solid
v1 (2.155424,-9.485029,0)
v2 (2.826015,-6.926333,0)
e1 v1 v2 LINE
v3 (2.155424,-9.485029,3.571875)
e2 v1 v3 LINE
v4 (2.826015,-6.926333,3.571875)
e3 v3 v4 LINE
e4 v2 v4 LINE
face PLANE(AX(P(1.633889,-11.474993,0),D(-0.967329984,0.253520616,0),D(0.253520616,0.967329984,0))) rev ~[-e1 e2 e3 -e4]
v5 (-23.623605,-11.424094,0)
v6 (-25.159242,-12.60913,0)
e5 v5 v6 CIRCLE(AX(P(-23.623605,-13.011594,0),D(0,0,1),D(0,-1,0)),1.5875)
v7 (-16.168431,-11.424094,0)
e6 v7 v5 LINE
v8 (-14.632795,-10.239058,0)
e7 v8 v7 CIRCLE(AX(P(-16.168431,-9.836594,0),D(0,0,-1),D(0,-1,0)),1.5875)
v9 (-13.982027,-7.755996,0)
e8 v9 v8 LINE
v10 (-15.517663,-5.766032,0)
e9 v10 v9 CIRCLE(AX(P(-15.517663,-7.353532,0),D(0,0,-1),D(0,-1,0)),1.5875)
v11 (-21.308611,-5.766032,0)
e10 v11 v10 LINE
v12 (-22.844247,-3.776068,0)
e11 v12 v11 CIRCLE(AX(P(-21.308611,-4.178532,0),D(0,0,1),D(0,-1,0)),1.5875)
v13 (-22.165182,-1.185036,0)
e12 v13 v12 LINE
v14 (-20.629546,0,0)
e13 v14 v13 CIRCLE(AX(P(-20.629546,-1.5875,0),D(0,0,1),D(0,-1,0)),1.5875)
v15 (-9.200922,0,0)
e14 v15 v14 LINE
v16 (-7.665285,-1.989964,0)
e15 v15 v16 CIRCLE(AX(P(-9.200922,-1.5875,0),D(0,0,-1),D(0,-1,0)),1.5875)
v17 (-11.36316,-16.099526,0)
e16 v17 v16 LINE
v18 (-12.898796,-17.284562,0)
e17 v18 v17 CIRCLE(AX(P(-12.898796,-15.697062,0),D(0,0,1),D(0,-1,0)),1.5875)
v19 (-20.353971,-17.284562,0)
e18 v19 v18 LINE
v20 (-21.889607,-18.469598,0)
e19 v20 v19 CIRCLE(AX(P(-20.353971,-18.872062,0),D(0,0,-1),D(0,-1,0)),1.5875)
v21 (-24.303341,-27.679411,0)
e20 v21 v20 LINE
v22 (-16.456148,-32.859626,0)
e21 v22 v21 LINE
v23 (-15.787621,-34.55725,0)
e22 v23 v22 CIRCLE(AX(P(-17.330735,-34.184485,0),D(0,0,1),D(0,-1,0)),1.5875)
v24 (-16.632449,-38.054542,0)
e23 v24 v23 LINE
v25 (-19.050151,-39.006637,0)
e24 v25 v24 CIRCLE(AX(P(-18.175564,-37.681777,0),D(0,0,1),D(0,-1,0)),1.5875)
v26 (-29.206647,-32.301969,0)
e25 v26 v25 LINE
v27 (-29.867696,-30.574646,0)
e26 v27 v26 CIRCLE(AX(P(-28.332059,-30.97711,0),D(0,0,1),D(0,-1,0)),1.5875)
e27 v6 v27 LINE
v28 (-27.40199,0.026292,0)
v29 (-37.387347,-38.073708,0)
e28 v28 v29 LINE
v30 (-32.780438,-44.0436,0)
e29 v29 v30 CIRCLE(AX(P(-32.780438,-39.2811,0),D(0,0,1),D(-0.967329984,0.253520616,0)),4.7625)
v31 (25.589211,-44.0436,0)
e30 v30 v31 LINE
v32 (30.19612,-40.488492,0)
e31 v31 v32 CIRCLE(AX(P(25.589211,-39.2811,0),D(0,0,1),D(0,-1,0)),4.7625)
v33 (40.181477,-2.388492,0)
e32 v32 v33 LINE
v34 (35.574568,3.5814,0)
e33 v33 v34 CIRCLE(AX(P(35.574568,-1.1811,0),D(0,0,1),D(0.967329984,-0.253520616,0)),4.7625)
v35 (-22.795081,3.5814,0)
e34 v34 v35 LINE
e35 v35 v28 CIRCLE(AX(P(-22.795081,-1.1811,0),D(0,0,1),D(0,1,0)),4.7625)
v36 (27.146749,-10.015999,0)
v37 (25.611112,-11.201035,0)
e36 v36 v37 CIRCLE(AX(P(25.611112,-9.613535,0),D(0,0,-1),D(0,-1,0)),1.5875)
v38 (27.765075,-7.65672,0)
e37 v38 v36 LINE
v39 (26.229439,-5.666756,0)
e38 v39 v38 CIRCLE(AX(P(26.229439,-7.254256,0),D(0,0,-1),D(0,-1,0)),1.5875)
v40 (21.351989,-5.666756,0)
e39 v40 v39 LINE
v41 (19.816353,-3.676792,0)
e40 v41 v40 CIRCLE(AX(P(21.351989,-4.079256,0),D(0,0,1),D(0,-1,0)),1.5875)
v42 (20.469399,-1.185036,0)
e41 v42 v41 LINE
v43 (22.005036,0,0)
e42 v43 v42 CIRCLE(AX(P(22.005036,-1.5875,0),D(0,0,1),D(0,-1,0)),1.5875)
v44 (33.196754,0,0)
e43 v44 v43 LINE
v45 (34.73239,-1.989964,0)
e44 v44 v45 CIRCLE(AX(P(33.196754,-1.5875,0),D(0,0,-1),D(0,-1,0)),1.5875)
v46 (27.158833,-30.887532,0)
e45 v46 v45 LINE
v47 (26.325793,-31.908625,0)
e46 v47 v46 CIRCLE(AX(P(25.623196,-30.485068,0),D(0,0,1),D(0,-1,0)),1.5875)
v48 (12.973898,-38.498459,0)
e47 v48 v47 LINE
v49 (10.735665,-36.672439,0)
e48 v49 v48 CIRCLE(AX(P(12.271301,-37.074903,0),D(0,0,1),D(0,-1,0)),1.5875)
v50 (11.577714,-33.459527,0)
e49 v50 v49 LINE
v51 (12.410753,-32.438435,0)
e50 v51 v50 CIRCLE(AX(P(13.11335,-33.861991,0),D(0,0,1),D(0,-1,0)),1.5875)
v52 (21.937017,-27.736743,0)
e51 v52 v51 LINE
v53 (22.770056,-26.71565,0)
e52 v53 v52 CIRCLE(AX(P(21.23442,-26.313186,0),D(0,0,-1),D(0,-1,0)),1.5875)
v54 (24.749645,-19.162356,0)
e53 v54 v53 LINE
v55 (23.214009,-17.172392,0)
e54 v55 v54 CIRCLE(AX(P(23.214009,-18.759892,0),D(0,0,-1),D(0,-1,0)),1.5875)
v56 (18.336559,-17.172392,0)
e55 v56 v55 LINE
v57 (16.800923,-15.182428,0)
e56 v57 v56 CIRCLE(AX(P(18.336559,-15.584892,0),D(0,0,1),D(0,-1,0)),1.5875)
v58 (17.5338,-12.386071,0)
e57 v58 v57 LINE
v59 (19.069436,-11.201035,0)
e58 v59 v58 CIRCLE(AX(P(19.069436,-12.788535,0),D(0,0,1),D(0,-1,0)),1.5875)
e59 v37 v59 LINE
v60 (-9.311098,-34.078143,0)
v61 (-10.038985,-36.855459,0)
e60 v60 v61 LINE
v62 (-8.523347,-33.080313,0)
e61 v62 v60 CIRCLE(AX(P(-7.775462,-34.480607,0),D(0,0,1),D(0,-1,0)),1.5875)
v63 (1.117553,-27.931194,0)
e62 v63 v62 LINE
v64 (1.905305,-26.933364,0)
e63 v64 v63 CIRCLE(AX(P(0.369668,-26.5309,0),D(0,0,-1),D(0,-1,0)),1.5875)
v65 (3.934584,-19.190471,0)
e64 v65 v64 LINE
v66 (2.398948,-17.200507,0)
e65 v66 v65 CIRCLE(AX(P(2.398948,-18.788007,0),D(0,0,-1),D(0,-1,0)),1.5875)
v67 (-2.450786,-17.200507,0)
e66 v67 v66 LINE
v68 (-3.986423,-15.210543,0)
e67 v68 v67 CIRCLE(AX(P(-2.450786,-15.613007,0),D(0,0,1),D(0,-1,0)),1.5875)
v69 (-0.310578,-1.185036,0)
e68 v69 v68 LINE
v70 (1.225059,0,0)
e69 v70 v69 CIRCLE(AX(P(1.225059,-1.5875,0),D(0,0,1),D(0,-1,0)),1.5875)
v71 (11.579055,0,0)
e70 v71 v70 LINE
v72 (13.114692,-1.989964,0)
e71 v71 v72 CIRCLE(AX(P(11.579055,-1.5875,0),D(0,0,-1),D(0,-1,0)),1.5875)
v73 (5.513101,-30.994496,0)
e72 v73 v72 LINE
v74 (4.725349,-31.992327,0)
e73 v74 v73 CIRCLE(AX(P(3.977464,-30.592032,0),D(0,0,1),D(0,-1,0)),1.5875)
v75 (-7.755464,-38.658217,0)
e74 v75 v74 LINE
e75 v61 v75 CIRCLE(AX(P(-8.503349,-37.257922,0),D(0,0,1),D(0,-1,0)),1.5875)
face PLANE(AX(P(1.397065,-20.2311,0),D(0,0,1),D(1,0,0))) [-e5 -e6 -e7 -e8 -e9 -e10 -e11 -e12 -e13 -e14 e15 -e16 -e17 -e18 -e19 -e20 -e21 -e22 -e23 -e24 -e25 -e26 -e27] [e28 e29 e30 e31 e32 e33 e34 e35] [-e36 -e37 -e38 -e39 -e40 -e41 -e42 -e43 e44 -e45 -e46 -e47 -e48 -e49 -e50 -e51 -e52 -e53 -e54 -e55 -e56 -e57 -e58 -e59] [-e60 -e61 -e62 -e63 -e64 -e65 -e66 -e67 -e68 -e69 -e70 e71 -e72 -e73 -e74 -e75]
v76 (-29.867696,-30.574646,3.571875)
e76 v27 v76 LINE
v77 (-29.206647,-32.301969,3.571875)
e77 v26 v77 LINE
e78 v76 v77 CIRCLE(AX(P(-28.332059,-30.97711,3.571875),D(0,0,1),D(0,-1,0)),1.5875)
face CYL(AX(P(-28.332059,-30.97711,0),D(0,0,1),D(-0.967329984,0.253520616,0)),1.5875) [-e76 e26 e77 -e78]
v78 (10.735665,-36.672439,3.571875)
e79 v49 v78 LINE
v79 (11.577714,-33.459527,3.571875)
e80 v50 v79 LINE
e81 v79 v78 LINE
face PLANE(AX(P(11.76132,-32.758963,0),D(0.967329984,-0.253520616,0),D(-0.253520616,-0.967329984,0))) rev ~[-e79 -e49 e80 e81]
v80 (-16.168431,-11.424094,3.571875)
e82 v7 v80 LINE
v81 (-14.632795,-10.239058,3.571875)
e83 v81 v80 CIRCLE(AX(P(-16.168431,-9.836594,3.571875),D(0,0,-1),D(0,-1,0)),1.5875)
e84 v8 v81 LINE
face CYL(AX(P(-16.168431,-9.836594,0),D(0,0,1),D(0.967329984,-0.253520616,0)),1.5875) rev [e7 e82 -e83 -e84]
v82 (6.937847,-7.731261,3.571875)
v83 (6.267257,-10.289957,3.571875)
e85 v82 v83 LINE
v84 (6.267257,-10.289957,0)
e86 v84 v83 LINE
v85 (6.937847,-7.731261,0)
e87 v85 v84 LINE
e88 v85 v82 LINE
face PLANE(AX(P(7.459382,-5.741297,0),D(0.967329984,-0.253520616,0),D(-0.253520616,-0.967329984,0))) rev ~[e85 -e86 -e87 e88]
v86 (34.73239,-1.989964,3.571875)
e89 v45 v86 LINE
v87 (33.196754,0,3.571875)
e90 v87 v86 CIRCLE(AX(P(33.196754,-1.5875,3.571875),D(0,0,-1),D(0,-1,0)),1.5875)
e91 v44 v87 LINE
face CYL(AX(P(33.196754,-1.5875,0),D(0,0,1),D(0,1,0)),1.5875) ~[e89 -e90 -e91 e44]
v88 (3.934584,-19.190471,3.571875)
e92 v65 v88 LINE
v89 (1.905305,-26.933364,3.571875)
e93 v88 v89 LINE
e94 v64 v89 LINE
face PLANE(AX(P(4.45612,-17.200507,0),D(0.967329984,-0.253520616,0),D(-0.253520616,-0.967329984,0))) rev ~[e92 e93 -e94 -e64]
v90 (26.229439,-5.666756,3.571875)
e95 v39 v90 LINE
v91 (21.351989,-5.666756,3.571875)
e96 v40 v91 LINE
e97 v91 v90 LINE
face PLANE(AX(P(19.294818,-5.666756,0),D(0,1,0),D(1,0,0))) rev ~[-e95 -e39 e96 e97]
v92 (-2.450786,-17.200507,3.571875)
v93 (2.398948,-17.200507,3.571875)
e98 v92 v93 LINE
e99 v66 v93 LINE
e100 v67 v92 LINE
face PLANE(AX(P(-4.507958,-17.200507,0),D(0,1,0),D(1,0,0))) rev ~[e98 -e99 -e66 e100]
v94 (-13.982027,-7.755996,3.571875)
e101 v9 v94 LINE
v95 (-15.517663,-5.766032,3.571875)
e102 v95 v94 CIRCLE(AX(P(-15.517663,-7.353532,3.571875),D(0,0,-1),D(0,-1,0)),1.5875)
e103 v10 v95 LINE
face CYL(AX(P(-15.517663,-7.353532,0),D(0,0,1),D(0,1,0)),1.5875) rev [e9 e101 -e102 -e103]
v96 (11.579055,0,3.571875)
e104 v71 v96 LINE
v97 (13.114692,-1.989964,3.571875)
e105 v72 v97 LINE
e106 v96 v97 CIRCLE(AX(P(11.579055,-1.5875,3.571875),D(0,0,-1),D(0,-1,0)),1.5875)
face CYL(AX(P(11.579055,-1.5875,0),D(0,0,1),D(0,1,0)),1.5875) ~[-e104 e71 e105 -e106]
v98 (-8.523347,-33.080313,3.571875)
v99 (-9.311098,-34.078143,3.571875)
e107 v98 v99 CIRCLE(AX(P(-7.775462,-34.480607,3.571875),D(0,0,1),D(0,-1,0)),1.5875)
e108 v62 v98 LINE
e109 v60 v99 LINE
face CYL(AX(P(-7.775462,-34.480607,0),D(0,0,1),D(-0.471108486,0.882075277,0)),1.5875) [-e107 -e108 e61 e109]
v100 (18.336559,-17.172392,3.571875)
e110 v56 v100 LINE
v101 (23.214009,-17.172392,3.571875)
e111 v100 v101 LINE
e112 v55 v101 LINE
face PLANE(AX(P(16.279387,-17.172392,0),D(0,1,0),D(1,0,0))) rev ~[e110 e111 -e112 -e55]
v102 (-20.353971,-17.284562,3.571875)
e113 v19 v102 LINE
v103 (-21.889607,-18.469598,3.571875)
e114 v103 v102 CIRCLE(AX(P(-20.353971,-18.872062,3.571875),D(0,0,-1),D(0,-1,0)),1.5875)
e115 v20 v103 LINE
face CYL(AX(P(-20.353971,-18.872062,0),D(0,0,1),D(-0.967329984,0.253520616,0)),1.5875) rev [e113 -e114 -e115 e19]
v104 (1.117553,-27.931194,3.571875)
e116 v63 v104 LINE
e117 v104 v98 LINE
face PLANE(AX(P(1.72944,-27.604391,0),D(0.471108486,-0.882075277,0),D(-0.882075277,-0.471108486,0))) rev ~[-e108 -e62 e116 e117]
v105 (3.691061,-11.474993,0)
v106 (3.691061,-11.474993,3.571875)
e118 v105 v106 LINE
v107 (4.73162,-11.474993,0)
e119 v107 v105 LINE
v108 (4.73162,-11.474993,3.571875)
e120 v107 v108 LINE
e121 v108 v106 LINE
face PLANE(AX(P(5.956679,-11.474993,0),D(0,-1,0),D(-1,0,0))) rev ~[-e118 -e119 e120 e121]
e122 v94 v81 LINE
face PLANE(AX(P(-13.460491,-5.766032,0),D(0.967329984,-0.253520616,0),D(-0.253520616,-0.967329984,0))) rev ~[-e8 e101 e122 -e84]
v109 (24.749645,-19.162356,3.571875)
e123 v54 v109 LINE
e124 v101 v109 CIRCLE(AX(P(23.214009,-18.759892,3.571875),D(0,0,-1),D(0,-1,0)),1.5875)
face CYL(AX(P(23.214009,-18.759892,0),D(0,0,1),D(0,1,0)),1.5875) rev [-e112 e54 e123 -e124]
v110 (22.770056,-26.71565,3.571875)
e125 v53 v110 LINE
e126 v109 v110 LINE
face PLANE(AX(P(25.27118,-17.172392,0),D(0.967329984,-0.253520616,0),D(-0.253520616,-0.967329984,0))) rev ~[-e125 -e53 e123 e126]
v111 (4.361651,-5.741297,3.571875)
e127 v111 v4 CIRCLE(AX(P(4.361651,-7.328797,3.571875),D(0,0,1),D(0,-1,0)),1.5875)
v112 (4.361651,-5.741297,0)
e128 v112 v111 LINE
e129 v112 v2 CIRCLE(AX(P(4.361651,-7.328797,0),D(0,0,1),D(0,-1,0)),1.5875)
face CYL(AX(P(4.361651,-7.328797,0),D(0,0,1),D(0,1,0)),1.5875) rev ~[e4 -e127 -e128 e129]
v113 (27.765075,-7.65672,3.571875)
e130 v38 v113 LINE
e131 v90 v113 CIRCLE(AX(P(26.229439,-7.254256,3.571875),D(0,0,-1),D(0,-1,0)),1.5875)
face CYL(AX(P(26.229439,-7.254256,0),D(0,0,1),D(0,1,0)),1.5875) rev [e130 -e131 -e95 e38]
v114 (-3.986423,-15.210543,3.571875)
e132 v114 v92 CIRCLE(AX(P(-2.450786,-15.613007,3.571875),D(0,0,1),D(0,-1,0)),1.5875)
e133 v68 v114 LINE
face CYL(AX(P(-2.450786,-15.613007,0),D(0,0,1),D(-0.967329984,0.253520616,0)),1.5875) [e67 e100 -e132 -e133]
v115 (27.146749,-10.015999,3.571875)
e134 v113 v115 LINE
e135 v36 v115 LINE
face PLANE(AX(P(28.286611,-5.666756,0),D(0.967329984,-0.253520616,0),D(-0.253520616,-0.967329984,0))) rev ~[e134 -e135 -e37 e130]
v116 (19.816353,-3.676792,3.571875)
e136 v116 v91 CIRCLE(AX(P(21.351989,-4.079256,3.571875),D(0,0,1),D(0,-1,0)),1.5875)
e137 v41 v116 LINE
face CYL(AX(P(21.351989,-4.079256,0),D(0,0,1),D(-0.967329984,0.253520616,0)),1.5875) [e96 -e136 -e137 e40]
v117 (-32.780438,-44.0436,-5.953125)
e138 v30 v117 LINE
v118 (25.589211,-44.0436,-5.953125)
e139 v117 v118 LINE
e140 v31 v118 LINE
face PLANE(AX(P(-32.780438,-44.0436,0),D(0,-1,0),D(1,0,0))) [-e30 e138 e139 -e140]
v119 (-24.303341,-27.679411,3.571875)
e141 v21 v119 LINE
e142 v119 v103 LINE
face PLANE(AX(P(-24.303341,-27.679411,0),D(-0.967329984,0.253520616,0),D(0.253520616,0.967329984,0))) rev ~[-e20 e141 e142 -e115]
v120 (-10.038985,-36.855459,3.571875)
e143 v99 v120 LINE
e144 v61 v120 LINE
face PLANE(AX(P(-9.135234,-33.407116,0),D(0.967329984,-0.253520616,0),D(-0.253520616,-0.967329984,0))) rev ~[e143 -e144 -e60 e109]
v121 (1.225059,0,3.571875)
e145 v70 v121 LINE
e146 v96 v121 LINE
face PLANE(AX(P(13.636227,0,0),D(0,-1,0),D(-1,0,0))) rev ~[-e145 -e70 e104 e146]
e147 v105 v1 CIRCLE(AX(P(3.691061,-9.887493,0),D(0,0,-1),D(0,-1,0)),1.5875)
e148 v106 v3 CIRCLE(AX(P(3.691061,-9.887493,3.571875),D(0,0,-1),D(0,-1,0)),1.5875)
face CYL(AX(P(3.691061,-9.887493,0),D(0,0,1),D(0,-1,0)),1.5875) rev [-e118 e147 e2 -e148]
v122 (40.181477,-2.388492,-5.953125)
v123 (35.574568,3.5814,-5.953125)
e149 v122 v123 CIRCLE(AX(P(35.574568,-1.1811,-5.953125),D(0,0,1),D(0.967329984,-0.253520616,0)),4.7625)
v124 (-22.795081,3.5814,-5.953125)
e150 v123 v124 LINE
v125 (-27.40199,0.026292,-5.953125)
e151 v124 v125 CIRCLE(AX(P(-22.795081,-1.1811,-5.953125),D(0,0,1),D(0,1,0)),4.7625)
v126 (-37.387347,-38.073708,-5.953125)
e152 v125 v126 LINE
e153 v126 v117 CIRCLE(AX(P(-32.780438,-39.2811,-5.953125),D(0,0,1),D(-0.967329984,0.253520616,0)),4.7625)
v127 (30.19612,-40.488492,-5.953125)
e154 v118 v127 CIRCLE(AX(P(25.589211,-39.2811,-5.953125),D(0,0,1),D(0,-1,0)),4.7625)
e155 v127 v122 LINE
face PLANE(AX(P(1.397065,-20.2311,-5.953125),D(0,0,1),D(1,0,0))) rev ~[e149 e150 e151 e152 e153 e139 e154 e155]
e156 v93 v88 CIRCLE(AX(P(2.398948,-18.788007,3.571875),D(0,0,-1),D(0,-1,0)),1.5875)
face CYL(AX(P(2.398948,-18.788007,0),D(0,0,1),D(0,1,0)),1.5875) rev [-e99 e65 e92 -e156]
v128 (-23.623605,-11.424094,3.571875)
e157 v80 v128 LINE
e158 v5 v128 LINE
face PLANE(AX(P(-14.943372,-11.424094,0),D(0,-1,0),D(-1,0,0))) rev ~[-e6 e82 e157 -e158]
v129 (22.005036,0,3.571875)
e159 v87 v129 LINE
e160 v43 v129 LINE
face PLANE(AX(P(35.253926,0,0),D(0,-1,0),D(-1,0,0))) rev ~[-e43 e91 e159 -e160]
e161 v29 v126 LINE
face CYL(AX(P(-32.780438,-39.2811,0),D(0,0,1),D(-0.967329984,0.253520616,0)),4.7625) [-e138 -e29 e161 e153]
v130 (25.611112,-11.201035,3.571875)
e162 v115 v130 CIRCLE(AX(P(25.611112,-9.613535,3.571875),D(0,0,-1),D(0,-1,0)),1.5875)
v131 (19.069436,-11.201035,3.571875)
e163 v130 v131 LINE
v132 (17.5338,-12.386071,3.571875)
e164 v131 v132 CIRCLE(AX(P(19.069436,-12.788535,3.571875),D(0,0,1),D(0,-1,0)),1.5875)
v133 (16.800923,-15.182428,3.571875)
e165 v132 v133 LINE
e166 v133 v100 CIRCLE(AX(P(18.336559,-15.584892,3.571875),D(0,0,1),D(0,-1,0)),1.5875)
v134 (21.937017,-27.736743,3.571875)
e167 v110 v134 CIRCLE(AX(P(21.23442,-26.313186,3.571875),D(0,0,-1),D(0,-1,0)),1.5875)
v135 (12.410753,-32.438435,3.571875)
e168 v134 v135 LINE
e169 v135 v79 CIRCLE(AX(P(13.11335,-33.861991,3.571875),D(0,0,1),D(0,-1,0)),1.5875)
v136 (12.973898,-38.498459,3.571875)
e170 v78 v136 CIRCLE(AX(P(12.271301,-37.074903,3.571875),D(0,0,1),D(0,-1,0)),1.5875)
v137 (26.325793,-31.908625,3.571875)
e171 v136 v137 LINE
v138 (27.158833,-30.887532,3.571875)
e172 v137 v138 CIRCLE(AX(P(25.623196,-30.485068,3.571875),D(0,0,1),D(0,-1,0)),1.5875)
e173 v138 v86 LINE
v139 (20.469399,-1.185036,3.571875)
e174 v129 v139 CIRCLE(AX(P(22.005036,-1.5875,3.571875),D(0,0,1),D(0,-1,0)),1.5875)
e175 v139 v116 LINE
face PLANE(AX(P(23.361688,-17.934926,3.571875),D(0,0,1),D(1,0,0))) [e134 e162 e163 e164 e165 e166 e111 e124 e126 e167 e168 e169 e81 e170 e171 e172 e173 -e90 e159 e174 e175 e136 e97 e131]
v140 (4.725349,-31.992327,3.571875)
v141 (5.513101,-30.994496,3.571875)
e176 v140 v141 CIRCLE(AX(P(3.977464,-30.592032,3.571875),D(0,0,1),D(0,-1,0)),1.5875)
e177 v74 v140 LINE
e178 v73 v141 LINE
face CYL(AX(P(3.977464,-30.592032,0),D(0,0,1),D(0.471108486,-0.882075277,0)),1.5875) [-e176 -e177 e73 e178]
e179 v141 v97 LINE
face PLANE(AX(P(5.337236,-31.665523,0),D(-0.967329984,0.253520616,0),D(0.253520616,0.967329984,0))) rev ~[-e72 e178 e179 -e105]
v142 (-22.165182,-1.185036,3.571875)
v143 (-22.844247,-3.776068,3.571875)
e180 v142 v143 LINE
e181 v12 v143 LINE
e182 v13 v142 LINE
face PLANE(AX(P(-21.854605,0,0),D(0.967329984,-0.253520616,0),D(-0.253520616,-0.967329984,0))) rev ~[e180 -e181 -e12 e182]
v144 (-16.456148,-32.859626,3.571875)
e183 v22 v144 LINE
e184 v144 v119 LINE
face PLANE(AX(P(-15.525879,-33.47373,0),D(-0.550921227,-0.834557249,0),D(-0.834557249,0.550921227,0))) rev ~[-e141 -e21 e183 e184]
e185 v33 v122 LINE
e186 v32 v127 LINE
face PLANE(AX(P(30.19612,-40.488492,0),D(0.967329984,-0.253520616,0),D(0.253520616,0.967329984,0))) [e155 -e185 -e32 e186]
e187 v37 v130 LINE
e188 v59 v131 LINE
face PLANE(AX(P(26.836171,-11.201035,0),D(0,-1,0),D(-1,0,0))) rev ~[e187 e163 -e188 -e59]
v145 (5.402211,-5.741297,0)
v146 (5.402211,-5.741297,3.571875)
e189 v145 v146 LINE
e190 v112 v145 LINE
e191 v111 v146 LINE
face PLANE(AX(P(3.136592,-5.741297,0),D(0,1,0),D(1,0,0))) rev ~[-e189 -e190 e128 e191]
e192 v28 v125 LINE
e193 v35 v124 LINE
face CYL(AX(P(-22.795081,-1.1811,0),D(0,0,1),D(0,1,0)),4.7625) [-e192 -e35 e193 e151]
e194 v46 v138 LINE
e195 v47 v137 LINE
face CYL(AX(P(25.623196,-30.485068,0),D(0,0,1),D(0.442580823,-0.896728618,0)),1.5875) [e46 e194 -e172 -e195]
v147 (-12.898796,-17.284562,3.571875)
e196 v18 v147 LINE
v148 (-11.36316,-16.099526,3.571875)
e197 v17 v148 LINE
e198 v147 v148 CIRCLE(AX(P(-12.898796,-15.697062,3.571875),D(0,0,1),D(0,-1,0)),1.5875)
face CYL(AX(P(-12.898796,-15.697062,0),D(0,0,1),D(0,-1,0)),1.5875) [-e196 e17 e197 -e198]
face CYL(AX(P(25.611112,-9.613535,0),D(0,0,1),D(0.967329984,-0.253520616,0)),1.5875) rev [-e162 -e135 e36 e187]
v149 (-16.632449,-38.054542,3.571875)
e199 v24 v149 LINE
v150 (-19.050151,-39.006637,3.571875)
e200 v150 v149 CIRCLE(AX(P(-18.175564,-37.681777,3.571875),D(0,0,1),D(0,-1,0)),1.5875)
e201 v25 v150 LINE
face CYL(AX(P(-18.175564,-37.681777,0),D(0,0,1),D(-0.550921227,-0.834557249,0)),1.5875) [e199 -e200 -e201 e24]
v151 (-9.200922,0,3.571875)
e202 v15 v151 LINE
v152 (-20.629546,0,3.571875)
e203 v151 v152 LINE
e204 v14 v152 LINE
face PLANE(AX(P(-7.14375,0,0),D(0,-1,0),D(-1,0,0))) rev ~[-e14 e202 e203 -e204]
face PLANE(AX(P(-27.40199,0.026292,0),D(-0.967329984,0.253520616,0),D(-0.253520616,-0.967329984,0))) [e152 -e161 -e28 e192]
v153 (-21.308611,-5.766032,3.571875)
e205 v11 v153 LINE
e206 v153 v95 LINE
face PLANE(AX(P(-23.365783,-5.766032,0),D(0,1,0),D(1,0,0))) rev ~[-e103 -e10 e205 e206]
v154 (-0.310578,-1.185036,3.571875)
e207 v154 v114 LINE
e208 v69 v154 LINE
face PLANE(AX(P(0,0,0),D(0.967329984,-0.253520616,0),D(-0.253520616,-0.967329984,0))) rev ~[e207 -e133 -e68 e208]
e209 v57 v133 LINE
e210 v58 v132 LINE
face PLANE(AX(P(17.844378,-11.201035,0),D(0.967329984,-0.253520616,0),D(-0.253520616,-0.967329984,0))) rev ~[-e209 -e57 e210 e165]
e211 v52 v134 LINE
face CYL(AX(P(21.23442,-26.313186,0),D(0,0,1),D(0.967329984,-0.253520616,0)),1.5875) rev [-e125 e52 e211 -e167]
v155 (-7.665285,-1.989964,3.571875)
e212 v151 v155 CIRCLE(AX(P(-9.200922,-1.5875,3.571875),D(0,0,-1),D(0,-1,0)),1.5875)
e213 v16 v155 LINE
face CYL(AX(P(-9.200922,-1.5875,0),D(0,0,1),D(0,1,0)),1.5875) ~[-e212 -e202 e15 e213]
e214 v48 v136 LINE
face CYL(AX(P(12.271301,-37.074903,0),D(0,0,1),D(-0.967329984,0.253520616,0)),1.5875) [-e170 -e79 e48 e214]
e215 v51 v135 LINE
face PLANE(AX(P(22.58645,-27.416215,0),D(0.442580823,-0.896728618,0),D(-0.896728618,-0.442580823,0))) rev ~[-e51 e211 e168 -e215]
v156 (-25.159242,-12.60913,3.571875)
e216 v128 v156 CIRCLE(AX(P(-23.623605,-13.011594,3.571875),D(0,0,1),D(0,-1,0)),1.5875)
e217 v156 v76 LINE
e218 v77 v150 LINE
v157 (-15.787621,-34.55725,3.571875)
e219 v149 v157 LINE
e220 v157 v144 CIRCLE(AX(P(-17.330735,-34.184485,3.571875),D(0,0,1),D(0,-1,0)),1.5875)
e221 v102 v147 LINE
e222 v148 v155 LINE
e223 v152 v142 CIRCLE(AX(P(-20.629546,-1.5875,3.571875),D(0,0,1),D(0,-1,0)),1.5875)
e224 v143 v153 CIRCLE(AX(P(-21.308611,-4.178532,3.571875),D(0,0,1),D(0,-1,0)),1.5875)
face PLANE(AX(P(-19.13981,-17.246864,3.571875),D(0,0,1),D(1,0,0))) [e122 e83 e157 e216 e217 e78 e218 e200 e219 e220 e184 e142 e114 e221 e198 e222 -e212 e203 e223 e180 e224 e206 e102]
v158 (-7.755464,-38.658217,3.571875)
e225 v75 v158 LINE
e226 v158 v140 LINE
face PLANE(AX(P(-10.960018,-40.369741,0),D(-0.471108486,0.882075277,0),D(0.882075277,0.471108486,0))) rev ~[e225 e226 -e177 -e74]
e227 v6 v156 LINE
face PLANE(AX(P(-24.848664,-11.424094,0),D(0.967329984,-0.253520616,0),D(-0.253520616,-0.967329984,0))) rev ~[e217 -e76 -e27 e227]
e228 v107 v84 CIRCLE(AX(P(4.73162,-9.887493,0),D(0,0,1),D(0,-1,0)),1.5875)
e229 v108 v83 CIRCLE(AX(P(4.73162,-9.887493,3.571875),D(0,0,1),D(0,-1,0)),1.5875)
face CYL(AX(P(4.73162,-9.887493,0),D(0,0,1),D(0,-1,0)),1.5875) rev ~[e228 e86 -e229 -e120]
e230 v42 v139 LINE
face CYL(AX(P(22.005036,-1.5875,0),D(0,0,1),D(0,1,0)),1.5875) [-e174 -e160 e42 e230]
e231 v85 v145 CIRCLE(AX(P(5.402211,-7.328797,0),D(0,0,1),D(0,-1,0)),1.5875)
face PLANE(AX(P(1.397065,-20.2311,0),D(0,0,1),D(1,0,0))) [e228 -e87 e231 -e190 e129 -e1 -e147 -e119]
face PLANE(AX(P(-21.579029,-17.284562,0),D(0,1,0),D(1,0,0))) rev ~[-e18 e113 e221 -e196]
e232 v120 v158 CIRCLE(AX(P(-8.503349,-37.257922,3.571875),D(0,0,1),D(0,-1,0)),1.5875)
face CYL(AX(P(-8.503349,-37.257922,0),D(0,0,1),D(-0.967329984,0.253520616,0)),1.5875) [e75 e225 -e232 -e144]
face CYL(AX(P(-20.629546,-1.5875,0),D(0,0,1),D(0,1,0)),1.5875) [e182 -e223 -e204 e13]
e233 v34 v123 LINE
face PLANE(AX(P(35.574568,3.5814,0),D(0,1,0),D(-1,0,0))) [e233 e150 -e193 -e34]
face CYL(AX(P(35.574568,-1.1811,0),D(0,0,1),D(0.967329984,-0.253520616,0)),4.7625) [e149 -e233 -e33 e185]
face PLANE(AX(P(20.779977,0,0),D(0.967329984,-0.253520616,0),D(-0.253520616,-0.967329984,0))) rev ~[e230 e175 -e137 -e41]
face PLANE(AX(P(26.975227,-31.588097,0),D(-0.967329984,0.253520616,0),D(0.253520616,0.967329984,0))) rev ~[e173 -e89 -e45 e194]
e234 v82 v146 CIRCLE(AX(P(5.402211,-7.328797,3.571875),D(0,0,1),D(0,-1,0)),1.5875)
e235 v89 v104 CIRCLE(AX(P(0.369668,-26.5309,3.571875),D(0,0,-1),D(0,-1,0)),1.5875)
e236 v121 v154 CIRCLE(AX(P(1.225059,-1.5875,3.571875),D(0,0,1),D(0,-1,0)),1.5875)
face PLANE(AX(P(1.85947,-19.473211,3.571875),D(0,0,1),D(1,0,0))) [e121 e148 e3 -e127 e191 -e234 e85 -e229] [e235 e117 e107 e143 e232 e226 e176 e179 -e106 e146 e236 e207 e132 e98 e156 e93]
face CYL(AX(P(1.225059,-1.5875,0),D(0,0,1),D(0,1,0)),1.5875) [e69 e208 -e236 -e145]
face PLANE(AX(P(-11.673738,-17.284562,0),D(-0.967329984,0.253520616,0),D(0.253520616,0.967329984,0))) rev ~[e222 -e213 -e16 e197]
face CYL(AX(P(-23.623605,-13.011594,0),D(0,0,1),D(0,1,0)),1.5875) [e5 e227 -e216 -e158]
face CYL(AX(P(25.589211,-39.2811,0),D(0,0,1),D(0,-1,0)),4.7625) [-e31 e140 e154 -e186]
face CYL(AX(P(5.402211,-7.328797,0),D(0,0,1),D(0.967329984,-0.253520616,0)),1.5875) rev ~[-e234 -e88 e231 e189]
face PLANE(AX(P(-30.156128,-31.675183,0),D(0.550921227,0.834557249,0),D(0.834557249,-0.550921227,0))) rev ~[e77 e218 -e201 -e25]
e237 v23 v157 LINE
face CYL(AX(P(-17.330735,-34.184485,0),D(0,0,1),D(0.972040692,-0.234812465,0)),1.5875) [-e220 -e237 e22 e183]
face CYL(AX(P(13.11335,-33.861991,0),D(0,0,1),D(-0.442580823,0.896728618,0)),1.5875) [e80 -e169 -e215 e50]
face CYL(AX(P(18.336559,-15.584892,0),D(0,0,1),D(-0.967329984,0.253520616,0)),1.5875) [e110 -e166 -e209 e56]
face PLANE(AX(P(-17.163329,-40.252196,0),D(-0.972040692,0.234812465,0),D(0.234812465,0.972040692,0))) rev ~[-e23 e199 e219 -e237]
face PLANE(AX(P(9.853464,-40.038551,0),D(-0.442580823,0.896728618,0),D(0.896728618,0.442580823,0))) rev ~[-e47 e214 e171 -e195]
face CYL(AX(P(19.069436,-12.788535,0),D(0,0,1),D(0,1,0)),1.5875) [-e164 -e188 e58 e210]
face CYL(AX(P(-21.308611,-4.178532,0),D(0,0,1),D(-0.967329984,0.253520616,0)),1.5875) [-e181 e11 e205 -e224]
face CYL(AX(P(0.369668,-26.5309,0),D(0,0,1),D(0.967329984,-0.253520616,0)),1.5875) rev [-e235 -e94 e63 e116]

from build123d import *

# Parameters (mm, degrees)
F1_DEPTH = 4.7625
F2_DEPTH = 7.9375
F3_SCALE = 0.75
F4_R     = 1.5875
F5_R     = 1.5875


with BuildPart() as f1:
    # F0 (on Top) → F1 (new body)
    with BuildSketch(Plane.XY):
        Polygon((47.0052342629, 0), (27.7066360927, 0), (25.7264233393, -7.5556741843), (37.7154810129, -7.5556741843), (35.7815611768, -14.9347137119), (23.7925035033, -14.9347137119), (21.7058496291, -22.8965232611), (33.6949073026, -22.8965232611), (30.1152669523, -36.5549527094), (15.6817594308, -43.6786170032), (13.1379523639, -53.3847343652), (35.9669688721, -42.117462739), align=None)
    extrude(amount=F1_DEPTH)



with BuildPart() as f1b:
    # F0 (on Top) → F1, piece 2 (new body)
    with BuildSketch(Plane.XY):
        Polygon((18.1816360927, 0), (0, 0), (-6.0106108367, -22.9340090122), (5.9414930498, -22.9340090122), (2.3059199107, -36.8058548863), (-12.1803115812, -44.5428210678), (-14.6133578163, -53.8263208316), (7.1163145289, -42.2206979224), align=None)
        Polygon((2.1785185584, -15.2999901774), (4.1821230904, -7.6550626248), (9.9458431257, -7.6550626248), (7.9422385937, -15.2999901774), align=None, mode=Mode.SUBTRACT)
    extrude(amount=F1_DEPTH)


with BuildPart() as f1c:
    # F0 (on Top) → F1, piece 3 (new body)
    with BuildSketch(Plane.XY):
        Polygon((-9.525, 0), (-29.1394729799, 0), (-31.1543771622, -7.6880423522), (-17.9473215339, -7.6880423522), (-19.9244964638, -15.2321254565), (-33.1315520921, -15.2321254565), (-40.2081700043, -42.2335772864), (-22.8844385775, -53.6695948649), (-20.7011714692, -44.6316399521), (-32.4044549927, -36.9058819843), (-28.7720391484, -23.0460830432), (-15.5649835201, -23.0460830432), align=None)
    extrude(amount=F1_DEPTH)


with BuildPart() as f1_1:
    add(f1.part)

    add(f1b.part)  # F2 merges F1b

    add(f1c.part)  # F2 merges F1c
    # F0 (on Top) → F2 (join)
    with BuildSketch(Plane.XY):
        with BuildLine():
            ThreePointArc((-30.3934413824, 4.7752), (-34.2728688515, 3.4523803739), (-36.5359867792, 0.0350559091))
            Line((-36.5359867792, 0.0350559091), (-49.8497964294, -50.7649440909))
            ThreePointArc((-49.8497964294, -50.7649440909), (-48.7344314064, -56.2542274692), (-43.7072510326, -58.7248))
            Line((-43.7072510326, -58.7248), (34.1189475279, -58.7248))
            ThreePointArc((34.1189475279, -58.7248), (37.9983749971, -57.4019803739), (40.2614929247, -53.9846559091))
            Line((40.2614929247, -53.9846559091), (53.5753025749, -3.1846559091))
            ThreePointArc((53.5753025749, -3.1846559091), (52.4599375519, 2.3046274692), (47.4327571781, 4.7752))
            Line((47.4327571781, 4.7752), (-30.3934413824, 4.7752))
        make_face()
        Polygon((-31.1543771622, -7.6880423522), (-29.1394729799, 0), (-9.525, 0), (-15.5649835201, -23.0460830432), (-28.7720391484, -23.0460830432), (-32.4044549927, -36.9058819843), (-20.7011714692, -44.6316399521), (-22.8844385775, -53.6695948649), (-40.2081700043, -42.2335772864), (-33.1315520921, -15.2321254565), (-19.9244964638, -15.2321254565), (-17.9473215339, -7.6880423522), align=None, mode=Mode.SUBTRACT)
        Polygon((-6.0106108367, -22.9340090122), (0, 0), (18.1816360927, 0), (7.1163145289, -42.2206979224), (-14.6133578163, -53.8263208316), (-12.1803115812, -44.5428210678), (2.3059199107, -36.8058548863), (5.9414930498, -22.9340090122), align=None, mode=Mode.SUBTRACT)
        Polygon((25.7264233393, -7.5556741843), (27.7066360927, 0), (47.0052342629, 0), (35.9669688721, -42.117462739), (13.1379523639, -53.3847343652), (15.6817594308, -43.6786170032), (30.1152669523, -36.5549527094), (33.6949073026, -22.8965232611), (21.7058496291, -22.8965232611), (23.7925035033, -14.9347137119), (35.7815611768, -14.9347137119), (37.7154810129, -7.5556741843), align=None, mode=Mode.SUBTRACT)
        Polygon((18.1816360927, 0), (0, 0), (-6.0106108367, -22.9340090122), (5.9414930498, -22.9340090122), (2.3059199107, -36.8058548863), (-12.1803115812, -44.5428210678), (-14.6133578163, -53.8263208316), (7.1163145289, -42.2206979224), align=None)
        Polygon((2.1785185584, -15.2999901774), (4.1821230904, -7.6550626248), (9.9458431257, -7.6550626248), (7.9422385937, -15.2999901774), align=None, mode=Mode.SUBTRACT)
        Polygon((47.0052342629, 0), (27.7066360927, 0), (25.7264233393, -7.5556741843), (37.7154810129, -7.5556741843), (35.7815611768, -14.9347137119), (23.7925035033, -14.9347137119), (21.7058496291, -22.8965232611), (33.6949073026, -22.8965232611), (30.1152669523, -36.5549527094), (15.6817594308, -43.6786170032), (13.1379523639, -53.3847343652), (35.9669688721, -42.117462739), align=None)
        Polygon((-9.525, 0), (-29.1394729799, 0), (-31.1543771622, -7.6880423522), (-17.9473215339, -7.6880423522), (-19.9244964638, -15.2321254565), (-33.1315520921, -15.2321254565), (-40.2081700043, -42.2335772864), (-22.8844385775, -53.6695948649), (-20.7011714692, -44.6316399521), (-32.4044549927, -36.9058819843), (-28.7720391484, -23.0460830432), (-15.5649835201, -23.0460830432), align=None)
        Polygon((9.9458431257, -7.6550626248), (4.1821230904, -7.6550626248), (2.1785185584, -15.2999901774), (7.9422385937, -15.2999901774), align=None)
    extrude(amount=-F2_DEPTH)


with BuildPart() as f1_2:
    # F3: moved
    add(f1_1.part.scale(F3_SCALE))

    # F4
    f4_edges = [f1_2.edges().sort_by_distance(p)[0] for p in [
        (-21.854605, 0, 1.785938),
        (-23.365783, -5.766032, 1.785938),
        (-13.460491, -5.766032, 1.785938),
        (-14.943372, -11.424094, 1.785938),
        (-24.848664, -11.424094, 1.785938),
        (-30.156128, -31.675183, 1.785938),
        (-17.163329, -40.252196, 1.785938),
        (-15.525879, -33.47373, 1.785938),
        (-21.579029, -17.284562, 1.785938),
        (-11.673738, -17.284562, 1.785938),
        (-4.507958, -17.200507, 1.785938),
        (4.45612, -17.200507, 1.785938),
        (1.72944, -27.604391, 1.785938),
        (-9.135234, -33.407116, 1.785938),
        (-10.960018, -40.369741, 1.785938),
        (5.337236, -31.665523, 1.785938),
        (13.636227, 0, 1.785938),
        (0, 0, 1.785938),
        (3.136592, -5.741297, 1.785938),
        (1.633889, -11.474993, 1.785938),
        (7.459382, -5.741297, 1.785938),
        (5.956679, -11.474993, 1.785938),
        (-7.14375, 0, 1.785938),
    ]]
    fillet(f4_edges, radius=F4_R)

    # F5
    f5_edges = [f1_2.edges().sort_by_distance(p)[0] for p in [
        (28.286611, -5.666756, 1.785938),
        (19.294818, -5.666756, 1.785938),
        (20.779977, 0, 1.785938),
        (17.844378, -11.201035, 1.785938),
        (16.279387, -17.172392, 1.785938),
        (25.27118, -17.172392, 1.785938),
        (11.76132, -32.758963, 1.785938),
        (9.853464, -40.038551, 1.785938),
        (26.975227, -31.588097, 1.785938),
        (22.58645, -27.416215, 1.785938),
        (26.836171, -11.201035, 1.785938),
        (35.253926, 0, 1.785938),
    ]]
    fillet(f5_edges, radius=F5_R)


solid = f1_2.part
